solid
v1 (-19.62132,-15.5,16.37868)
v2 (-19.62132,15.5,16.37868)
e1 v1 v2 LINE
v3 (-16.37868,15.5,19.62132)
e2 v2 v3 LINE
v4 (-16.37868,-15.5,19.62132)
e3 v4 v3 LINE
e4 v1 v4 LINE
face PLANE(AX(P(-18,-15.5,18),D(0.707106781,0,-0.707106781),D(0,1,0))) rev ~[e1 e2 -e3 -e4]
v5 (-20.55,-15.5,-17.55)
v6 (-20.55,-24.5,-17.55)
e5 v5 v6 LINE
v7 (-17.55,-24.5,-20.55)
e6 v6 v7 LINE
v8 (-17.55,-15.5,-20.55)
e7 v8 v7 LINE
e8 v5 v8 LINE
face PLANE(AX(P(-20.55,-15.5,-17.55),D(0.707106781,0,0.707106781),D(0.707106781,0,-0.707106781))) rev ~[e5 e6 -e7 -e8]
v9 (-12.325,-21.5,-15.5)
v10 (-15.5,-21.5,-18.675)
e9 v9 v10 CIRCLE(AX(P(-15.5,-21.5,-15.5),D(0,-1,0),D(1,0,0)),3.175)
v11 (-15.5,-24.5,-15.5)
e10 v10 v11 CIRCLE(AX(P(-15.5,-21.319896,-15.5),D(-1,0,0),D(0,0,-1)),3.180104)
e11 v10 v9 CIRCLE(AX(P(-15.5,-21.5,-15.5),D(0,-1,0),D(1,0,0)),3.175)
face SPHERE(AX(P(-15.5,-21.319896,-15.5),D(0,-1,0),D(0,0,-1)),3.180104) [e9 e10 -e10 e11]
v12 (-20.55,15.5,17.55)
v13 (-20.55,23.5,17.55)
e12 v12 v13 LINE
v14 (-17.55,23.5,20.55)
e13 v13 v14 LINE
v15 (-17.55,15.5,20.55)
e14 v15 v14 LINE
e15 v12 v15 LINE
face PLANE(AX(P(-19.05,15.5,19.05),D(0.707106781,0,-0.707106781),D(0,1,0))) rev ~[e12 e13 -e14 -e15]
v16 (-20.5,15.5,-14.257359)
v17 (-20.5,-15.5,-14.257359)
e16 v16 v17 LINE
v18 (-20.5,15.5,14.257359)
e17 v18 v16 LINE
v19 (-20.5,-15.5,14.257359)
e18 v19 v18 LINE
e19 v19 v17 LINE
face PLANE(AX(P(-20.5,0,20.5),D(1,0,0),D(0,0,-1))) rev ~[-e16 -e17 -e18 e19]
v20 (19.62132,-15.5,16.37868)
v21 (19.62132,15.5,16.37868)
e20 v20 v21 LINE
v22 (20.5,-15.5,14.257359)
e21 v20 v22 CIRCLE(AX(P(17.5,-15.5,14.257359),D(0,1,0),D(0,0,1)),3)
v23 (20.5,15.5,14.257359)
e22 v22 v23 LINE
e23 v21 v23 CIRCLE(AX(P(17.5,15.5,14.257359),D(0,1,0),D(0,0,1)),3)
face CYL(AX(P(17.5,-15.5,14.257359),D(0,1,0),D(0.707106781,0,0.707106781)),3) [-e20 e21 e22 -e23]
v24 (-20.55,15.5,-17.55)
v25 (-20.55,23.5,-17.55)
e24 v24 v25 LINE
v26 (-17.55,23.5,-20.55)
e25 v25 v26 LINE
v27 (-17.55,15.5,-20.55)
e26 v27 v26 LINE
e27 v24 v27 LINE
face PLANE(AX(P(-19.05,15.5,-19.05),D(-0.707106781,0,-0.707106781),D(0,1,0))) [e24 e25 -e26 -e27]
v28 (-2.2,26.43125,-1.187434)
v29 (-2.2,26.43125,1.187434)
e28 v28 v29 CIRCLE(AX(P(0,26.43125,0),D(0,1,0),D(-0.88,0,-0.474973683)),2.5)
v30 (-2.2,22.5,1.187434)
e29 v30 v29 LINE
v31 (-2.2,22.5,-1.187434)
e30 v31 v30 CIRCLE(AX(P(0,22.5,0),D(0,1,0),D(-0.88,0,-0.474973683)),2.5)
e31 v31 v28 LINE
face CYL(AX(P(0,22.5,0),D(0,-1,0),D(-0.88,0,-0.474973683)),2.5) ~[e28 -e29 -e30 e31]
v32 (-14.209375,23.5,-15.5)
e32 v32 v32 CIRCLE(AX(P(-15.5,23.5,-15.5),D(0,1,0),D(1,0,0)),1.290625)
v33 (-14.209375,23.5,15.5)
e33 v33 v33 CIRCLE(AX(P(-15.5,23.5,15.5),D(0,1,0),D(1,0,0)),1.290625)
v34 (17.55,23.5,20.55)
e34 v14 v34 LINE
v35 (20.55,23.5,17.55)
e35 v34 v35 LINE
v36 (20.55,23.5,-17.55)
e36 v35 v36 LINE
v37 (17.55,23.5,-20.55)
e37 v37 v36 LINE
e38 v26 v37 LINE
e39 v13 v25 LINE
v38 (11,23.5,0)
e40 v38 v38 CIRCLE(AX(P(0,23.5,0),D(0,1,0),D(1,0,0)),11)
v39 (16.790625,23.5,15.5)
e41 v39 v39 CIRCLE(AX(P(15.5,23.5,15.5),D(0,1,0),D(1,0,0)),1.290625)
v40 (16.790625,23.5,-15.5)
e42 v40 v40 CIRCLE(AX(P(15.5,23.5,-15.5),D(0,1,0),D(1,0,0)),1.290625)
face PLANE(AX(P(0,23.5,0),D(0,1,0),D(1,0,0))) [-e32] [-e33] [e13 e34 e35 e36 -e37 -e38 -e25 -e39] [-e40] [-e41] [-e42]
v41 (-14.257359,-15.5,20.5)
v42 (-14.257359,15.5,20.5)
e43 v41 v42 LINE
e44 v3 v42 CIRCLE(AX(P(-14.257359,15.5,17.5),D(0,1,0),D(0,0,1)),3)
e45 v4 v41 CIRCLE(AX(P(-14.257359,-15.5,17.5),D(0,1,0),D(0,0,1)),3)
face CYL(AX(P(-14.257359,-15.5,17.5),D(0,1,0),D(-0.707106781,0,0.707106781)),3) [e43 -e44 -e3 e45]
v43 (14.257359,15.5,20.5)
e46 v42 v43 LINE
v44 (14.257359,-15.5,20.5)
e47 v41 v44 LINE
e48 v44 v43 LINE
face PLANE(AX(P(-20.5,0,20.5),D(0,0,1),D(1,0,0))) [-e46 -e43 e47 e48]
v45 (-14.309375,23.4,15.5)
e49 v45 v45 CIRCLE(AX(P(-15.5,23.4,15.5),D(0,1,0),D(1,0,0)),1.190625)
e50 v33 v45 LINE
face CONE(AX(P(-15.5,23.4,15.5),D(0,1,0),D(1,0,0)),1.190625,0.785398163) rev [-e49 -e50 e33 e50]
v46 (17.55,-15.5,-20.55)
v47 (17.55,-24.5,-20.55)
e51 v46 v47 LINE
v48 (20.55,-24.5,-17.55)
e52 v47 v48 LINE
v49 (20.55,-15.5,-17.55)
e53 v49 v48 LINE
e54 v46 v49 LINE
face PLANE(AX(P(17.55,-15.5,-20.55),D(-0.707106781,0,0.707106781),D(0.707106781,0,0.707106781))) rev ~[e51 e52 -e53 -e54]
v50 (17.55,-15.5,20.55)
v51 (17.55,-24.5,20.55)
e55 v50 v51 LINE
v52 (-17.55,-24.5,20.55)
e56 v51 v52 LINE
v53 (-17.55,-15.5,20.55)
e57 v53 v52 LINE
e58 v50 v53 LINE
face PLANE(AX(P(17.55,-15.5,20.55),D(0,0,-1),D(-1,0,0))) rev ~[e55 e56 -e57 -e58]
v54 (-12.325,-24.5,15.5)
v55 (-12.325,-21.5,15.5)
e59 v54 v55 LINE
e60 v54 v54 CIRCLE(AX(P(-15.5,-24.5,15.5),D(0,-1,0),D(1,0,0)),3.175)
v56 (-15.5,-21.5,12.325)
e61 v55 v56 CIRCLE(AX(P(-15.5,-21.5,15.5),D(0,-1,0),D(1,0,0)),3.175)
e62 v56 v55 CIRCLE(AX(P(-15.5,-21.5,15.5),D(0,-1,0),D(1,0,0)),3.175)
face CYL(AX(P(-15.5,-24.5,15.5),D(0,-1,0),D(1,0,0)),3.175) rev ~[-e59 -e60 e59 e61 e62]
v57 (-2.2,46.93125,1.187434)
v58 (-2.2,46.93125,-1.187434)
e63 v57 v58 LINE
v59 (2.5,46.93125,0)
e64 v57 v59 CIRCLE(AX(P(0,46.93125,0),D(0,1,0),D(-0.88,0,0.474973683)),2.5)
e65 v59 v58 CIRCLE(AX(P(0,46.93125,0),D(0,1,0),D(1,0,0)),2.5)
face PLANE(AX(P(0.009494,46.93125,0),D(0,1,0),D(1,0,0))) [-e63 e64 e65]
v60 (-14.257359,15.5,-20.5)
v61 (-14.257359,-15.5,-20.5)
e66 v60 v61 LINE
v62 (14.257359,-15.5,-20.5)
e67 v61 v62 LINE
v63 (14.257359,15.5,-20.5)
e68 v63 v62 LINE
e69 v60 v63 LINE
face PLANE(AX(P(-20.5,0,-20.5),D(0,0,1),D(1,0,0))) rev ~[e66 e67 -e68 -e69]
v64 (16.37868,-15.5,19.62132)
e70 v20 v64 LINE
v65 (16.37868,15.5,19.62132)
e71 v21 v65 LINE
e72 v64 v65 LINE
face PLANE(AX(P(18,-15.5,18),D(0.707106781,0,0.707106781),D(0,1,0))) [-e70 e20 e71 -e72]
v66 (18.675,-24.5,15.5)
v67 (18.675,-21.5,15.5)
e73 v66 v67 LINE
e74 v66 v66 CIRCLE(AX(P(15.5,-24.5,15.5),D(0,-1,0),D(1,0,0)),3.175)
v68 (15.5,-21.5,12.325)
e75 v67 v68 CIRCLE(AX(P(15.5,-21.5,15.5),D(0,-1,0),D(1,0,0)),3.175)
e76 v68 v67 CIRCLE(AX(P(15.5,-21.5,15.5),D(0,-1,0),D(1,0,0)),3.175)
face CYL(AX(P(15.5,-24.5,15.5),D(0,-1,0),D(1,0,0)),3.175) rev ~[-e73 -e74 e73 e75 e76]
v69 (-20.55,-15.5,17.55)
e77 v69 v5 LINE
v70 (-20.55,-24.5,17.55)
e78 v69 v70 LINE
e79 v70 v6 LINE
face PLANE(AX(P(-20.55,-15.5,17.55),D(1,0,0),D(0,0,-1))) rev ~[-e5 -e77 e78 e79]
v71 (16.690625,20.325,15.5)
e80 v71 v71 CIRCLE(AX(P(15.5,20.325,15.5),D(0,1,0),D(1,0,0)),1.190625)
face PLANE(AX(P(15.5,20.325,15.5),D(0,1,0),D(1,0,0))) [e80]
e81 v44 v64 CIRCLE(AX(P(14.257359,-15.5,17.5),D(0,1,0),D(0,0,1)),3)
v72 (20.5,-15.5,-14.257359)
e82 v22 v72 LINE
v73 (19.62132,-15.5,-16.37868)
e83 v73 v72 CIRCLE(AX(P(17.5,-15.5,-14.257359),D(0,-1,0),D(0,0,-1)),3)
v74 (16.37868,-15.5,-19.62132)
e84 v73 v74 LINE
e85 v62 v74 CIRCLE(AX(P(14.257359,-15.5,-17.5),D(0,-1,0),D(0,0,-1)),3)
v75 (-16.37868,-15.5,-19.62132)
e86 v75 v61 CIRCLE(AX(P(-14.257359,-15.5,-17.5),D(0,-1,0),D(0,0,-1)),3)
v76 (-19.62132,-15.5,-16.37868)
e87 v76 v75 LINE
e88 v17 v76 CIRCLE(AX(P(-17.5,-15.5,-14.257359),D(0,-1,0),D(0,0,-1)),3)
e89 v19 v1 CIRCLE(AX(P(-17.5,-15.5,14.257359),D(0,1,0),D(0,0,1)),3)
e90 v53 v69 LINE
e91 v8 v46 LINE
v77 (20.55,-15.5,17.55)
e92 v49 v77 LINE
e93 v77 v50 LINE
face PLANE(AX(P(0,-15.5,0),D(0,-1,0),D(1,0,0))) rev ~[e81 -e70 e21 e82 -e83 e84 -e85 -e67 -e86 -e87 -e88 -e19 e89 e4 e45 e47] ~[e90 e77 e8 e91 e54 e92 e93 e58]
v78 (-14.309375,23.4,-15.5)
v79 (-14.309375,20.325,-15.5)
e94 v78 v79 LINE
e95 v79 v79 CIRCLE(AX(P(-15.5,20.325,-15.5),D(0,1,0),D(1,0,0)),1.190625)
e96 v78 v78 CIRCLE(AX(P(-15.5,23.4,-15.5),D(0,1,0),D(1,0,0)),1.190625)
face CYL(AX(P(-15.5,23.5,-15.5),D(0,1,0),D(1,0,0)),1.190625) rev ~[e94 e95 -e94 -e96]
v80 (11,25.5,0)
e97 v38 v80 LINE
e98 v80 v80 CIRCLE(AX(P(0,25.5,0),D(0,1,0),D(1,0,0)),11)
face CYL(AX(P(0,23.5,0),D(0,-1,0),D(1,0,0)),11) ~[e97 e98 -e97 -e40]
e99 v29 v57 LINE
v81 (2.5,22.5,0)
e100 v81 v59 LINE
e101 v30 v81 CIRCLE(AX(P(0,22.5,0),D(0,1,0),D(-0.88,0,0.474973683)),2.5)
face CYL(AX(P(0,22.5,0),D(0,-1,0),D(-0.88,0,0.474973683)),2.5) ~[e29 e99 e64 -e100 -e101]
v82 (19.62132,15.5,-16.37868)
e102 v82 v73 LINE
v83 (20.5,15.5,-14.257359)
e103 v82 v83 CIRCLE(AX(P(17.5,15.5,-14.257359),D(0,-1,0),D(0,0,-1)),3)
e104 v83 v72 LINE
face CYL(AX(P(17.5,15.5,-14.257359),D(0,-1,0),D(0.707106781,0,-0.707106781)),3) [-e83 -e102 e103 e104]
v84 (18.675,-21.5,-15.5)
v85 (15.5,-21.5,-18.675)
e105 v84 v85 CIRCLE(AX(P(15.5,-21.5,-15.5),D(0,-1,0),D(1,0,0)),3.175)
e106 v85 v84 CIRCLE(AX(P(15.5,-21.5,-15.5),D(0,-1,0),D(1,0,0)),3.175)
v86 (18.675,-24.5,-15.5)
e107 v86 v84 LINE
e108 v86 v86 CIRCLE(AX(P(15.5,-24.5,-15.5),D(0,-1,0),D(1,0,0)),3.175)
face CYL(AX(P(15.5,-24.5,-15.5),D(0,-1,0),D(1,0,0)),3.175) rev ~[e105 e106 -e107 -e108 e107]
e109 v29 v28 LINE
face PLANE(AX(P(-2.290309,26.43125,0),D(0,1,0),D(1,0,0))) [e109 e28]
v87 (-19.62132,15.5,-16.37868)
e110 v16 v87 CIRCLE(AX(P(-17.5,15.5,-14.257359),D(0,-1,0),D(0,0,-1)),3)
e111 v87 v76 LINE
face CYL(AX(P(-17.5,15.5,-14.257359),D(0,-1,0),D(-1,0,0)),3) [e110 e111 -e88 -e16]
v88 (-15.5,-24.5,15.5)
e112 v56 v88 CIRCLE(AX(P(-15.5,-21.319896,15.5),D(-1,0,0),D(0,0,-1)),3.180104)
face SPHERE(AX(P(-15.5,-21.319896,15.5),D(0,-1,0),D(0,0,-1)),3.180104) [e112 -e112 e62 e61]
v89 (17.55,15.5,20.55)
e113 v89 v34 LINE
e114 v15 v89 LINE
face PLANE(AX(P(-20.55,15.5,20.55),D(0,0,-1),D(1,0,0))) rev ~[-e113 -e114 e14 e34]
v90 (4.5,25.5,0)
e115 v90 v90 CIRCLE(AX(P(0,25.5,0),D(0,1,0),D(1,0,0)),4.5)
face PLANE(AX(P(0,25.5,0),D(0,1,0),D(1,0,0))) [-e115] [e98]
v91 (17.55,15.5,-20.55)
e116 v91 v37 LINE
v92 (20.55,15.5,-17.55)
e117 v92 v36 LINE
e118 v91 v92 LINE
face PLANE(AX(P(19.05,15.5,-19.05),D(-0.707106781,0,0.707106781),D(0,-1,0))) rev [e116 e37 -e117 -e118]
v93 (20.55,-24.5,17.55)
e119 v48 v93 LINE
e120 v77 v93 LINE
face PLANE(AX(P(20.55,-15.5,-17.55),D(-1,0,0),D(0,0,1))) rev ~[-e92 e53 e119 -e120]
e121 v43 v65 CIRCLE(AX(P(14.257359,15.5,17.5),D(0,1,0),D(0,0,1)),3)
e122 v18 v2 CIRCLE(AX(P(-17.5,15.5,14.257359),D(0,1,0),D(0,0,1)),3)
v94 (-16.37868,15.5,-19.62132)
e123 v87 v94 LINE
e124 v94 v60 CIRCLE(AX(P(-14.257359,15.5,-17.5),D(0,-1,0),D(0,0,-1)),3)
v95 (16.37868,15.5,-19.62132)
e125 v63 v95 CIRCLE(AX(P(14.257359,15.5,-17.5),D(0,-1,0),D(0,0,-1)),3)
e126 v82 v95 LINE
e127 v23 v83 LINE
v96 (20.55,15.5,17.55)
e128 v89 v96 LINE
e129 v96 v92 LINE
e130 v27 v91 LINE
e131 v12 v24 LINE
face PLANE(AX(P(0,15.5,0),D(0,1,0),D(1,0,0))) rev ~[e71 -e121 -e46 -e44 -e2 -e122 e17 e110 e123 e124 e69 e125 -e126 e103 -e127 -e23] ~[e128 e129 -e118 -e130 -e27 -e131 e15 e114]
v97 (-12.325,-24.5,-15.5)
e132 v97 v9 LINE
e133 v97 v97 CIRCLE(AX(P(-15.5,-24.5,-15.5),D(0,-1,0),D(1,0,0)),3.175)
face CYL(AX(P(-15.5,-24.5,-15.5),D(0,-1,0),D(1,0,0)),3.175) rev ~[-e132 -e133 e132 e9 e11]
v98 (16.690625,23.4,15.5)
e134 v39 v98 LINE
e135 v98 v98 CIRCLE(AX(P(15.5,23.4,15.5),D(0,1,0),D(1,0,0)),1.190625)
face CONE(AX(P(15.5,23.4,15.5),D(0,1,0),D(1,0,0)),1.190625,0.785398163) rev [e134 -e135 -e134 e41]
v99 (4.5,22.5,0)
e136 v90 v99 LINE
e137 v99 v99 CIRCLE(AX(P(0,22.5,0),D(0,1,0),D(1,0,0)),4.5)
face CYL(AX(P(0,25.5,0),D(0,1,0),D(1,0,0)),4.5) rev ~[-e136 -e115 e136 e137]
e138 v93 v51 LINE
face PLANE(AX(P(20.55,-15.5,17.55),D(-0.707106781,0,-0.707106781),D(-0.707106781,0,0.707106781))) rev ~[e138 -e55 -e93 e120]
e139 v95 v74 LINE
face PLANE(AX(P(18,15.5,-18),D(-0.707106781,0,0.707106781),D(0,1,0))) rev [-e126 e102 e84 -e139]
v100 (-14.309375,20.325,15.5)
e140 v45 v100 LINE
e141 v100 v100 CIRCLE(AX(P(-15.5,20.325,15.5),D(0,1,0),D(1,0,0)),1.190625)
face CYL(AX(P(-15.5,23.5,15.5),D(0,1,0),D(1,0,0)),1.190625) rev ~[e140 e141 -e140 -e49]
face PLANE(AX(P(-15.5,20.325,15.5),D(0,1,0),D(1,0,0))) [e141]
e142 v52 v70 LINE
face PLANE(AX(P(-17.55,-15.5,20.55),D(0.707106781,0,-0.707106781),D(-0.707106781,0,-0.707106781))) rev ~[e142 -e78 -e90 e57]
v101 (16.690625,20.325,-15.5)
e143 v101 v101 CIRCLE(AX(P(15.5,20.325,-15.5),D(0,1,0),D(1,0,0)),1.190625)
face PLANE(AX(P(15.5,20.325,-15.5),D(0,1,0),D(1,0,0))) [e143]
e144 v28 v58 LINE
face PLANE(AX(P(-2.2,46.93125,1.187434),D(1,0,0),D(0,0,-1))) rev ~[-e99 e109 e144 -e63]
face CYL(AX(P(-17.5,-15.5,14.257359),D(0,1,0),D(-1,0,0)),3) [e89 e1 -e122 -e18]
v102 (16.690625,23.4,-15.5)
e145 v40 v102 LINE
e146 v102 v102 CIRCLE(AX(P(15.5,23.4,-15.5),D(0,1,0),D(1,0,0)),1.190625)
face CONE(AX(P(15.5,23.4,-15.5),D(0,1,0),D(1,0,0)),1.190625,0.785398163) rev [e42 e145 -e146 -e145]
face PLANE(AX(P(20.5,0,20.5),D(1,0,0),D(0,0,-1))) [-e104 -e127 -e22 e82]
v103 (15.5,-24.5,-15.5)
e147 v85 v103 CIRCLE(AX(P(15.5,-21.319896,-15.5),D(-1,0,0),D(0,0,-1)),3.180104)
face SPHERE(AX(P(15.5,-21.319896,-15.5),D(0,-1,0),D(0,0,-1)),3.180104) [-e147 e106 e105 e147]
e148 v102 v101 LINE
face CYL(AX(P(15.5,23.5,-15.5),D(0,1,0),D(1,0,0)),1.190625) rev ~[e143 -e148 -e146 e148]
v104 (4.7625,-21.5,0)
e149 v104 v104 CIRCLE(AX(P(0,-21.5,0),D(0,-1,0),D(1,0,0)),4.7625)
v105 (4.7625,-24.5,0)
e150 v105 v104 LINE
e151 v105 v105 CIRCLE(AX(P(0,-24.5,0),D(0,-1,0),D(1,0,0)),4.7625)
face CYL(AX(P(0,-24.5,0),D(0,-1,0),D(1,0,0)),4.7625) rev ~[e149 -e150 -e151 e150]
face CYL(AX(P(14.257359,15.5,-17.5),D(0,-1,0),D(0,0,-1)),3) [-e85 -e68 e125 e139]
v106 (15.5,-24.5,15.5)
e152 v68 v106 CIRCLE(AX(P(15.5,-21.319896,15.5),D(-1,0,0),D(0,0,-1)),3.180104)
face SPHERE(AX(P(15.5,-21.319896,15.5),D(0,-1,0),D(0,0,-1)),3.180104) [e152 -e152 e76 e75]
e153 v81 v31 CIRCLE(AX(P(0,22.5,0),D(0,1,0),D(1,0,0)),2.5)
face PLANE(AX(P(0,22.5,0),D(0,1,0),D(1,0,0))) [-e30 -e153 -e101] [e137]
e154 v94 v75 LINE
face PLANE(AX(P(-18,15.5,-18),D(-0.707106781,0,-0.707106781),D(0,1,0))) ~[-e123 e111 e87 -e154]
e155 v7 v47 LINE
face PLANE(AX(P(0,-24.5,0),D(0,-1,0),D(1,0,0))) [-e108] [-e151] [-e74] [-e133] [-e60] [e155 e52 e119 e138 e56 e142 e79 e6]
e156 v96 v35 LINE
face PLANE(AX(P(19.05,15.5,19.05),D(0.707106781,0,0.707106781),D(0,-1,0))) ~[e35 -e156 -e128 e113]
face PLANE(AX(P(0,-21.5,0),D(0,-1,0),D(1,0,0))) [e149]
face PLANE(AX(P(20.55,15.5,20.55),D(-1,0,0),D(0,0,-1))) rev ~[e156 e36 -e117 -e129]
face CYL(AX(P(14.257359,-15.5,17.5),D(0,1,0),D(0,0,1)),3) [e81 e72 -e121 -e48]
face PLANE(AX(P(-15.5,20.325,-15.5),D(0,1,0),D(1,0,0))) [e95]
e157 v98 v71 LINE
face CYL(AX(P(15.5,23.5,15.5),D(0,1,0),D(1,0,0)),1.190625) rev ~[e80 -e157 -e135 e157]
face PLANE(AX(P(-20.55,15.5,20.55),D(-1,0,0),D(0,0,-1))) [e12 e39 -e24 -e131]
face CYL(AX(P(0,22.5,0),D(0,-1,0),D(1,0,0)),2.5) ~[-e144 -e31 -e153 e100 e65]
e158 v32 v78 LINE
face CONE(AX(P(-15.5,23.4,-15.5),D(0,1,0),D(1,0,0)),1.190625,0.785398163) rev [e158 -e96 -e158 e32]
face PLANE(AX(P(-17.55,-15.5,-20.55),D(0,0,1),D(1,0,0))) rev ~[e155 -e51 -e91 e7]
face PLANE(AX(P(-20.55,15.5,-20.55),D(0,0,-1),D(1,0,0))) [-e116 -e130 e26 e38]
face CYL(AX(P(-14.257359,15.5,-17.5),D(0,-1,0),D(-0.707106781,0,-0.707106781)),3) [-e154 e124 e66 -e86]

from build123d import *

# Parameters (mm, degrees)
CROQUIS1_W              = 41
CROQUIS1_H              = 41
SALIENTE_EXTRUIR1_DEPTH = 15.5
CHAFL_N1_SIZE           = 5
REDONDEO1_R             = 3
CROQUIS2_W              = 41.1
CROQUIS2_H              = 41.1
SALIENTE_EXTRUIR2_DEPTH = 8
CHAFL_N2_SIZE           = 3
SALIENTE_EXTRUIR3_DEPTH = 9
CROQUIS4_R              = 11
SALIENTE_EXTRUIR4_DEPTH = 2
CROQUIS5_R              = 1.190625
CORTAR_EXTRUIR1_DEPTH   = 3.175
CHAFL_N3_SIZE           = 0.1
CROQUIS6_R              = 4.7625
CROQUIS6_R_2            = 3.175
CORTAR_EXTRUIR2_DEPTH   = 3
C_PULA1_FACE_RADIUS     = 3.175
C_PULA1_HEIGHT          = 3
C_PULA2_FACE_RADIUS     = 3.175
C_PULA2_HEIGHT          = 3
C_PULA3_FACE_RADIUS     = 3.175
C_PULA3_HEIGHT          = 3
C_PULA4_FACE_RADIUS     = 3.175
C_PULA4_HEIGHT          = 3
CROQUIS7_R              = 4.5
CORTAR_EXTRUIR3_DEPTH   = 3
SALIENTE_EXTRUIR5_DEPTH = 24.43125
CORTAR_EXTRUIR4_DEPTH   = 20.5


with BuildPart() as part:
    # Croquis1 → Saliente-Extruir1 (new body, symmetric)
    with BuildSketch(Plane(origin=(0, 0, 0), x_dir=(1, 0, 0), z_dir=(0, 1, 0))):
        Rectangle(CROQUIS1_W, CROQUIS1_H)
    extrude(amount=SALIENTE_EXTRUIR1_DEPTH, both=True)

    # Chaflán1
    chafl_n1_edges = [part.edges().sort_by_distance(p)[0] for p in [
        (20.5, 0, 20.5),
        (-20.5, 0, 20.5),
        (-20.5, 0, -20.5),
        (20.5, 0, -20.5),
    ]]
    chamfer(chafl_n1_edges, length=CHAFL_N1_SIZE)

    # Redondeo1
    redondeo1_edges = [part.edges().sort_by_distance(p)[0] for p in [
        (15.5, 0, 20.5),
        (-15.5, 0, 20.5),
        (-20.5, 0, -15.5),
        (-20.5, 0, 15.5),
        (15.5, 0, -20.5),
        (-15.5, 0, -20.5),
        (20.5, 0, 15.5),
        (20.5, 0, -15.5),
    ]]
    fillet(redondeo1_edges, radius=REDONDEO1_R)

    # Croquis2 → Saliente-Extruir2 (add)
    with BuildSketch(Plane(origin=(0, 15.5, 0), x_dir=(1, 0, 0), z_dir=(0, 1, 0))):
        Rectangle(CROQUIS2_W, CROQUIS2_H)
    extrude(amount=SALIENTE_EXTRUIR2_DEPTH)

    # Chaflán2
    chafl_n2_edges = [part.edges().sort_by_distance(p)[0] for p in [
        (20.55, 19.5, 20.55),
        (20.55, 19.5, -20.55),
        (-20.55, 19.5, -20.55),
        (-20.55, 19.5, 20.55),
    ]]
    chamfer(chafl_n2_edges, length=CHAFL_N2_SIZE)

    # Croquis3 → Saliente-Extruir3 (add)
    with BuildSketch(Plane.XZ.offset(15.5)):
        Polygon((17.55, 20.55), (-17.55, 20.55), (-20.55, 17.55), (-20.55, -17.55), (-17.55, -20.55), (17.55, -20.55), (20.55, -17.55), (20.55, 17.55), align=None)
    extrude(amount=SALIENTE_EXTRUIR3_DEPTH)

    # Croquis4 → Saliente-Extruir4 (add)
    with BuildSketch(Plane(origin=(0, 23.5, 0), x_dir=(1, 0, 0), z_dir=(0, 1, 0))):
        Circle(CROQUIS4_R)
    extrude(amount=SALIENTE_EXTRUIR4_DEPTH)

    # Croquis5 → Cortar-Extruir1 (cut)
    with BuildSketch(Plane(origin=(0, 23.5, 0), x_dir=(1, 0, 0), z_dir=(0, 1, 0))):
        with Locations((-15.5, 15.5)):
            Circle(CROQUIS5_R)
        with Locations((15.5, 15.5)):
            Circle(CROQUIS5_R)
        with Locations((15.5, -15.5)):
            Circle(CROQUIS5_R)
        with Locations((-15.5, -15.5)):
            Circle(CROQUIS5_R)
    extrude(amount=-CORTAR_EXTRUIR1_DEPTH, mode=Mode.SUBTRACT)

    # Chaflán3
    chafl_n3_edges = [part.edges().sort_by_distance(p)[0] for p in [
        (-16.690625, 23.5, -15.5),
        (14.309375, 23.5, -15.5),
        (14.309375, 23.5, 15.5),
        (-16.690625, 23.5, 15.5),
    ]]
    chamfer(chafl_n3_edges, length=CHAFL_N3_SIZE)

    # Croquis6 → Cortar-Extruir2 (cut)
    with BuildSketch(Plane.XZ.offset(24.5)):
        Circle(CROQUIS6_R)
        with Locations((-15.5, 15.5)):
            Circle(CROQUIS6_R_2)
        with Locations((15.5, 15.5)):
            Circle(CROQUIS6_R_2)
        with Locations((15.5, -15.5)):
            Circle(CROQUIS6_R_2)
        with Locations((-15.5, -15.5)):
            Circle(CROQUIS6_R_2)
    extrude(amount=-CORTAR_EXTRUIR2_DEPTH, mode=Mode.SUBTRACT)

    # Cúpula1: a dome of height H over a round flat face of radius A is a cap of a sphere of radius (A * A + H * H) / (2 * H)
    c_pula1_r = (C_PULA1_FACE_RADIUS * C_PULA1_FACE_RADIUS + C_PULA1_HEIGHT * C_PULA1_HEIGHT) / (2 * C_PULA1_HEIGHT)
    c_pula1_base = Plane((15.5, -21.5, 15.5), z_dir=(0, -1, 0))
    with Locations(c_pula1_base.offset(C_PULA1_HEIGHT - c_pula1_r)):
        c_pula1_ball = Sphere(c_pula1_r, mode=Mode.PRIVATE)
    add(split(c_pula1_ball, bisect_by=c_pula1_base, keep=Keep.TOP, mode=Mode.PRIVATE))

    # Cúpula2: a dome of height H over a round flat face of radius A is a cap of a sphere of radius (A * A + H * H) / (2 * H)
    c_pula2_r = (C_PULA2_FACE_RADIUS * C_PULA2_FACE_RADIUS + C_PULA2_HEIGHT * C_PULA2_HEIGHT) / (2 * C_PULA2_HEIGHT)
    c_pula2_base = Plane((-15.5, -21.5, 15.5), z_dir=(0, -1, 0))
    with Locations(c_pula2_base.offset(C_PULA2_HEIGHT - c_pula2_r)):
        c_pula2_ball = Sphere(c_pula2_r, mode=Mode.PRIVATE)
    add(split(c_pula2_ball, bisect_by=c_pula2_base, keep=Keep.TOP, mode=Mode.PRIVATE))

    # Cúpula3: a dome of height H over a round flat face of radius A is a cap of a sphere of radius (A * A + H * H) / (2 * H)
    c_pula3_r = (C_PULA3_FACE_RADIUS * C_PULA3_FACE_RADIUS + C_PULA3_HEIGHT * C_PULA3_HEIGHT) / (2 * C_PULA3_HEIGHT)
    c_pula3_base = Plane((15.5, -21.5, -15.5), z_dir=(0, -1, 0))
    with Locations(c_pula3_base.offset(C_PULA3_HEIGHT - c_pula3_r)):
        c_pula3_ball = Sphere(c_pula3_r, mode=Mode.PRIVATE)
    add(split(c_pula3_ball, bisect_by=c_pula3_base, keep=Keep.TOP, mode=Mode.PRIVATE))

    # Cúpula4: a dome of height H over a round flat face of radius A is a cap of a sphere of radius (A * A + H * H) / (2 * H)
    c_pula4_r = (C_PULA4_FACE_RADIUS * C_PULA4_FACE_RADIUS + C_PULA4_HEIGHT * C_PULA4_HEIGHT) / (2 * C_PULA4_HEIGHT)
    c_pula4_base = Plane((-15.5, -21.5, -15.5), z_dir=(0, -1, 0))
    with Locations(c_pula4_base.offset(C_PULA4_HEIGHT - c_pula4_r)):
        c_pula4_ball = Sphere(c_pula4_r, mode=Mode.PRIVATE)
    add(split(c_pula4_ball, bisect_by=c_pula4_base, keep=Keep.TOP, mode=Mode.PRIVATE))

    # Croquis7 → Cortar-Extruir3 (cut)
    with BuildSketch(Plane(origin=(0, 25.5, 0), x_dir=(1, 0, 0), z_dir=(0, 1, 0))):
        Circle(CROQUIS7_R)
    extrude(amount=-CORTAR_EXTRUIR3_DEPTH, mode=Mode.SUBTRACT)

    # Croquis8 → Saliente-Extruir5 (add)
    with BuildSketch(Plane(origin=(0, 22.5, 0), x_dir=(1, 0, 0), z_dir=(0, 1, 0))):
        with BuildLine():
            ThreePointArc((2.5, 0), (0.612372436, 2.423839929), (-2.2, 1.187434209))
            Line((-2.2, 1.187434209), (-2.2, -1.187434209))
            ThreePointArc((-2.2, -1.187434209), (0.612372436, -2.423839929), (2.5, 0))
        make_face()
        with BuildLine():
            Line((-2.2, -1.187434209), (-2.2, 1.187434209))
            ThreePointArc((-2.2, 1.187434209), (-2.5, 0), (-2.2, -1.187434209))
        make_face()
    extrude(amount=SALIENTE_EXTRUIR5_DEPTH)

    # Croquis9 → Cortar-Extruir4 (cut)
    with BuildSketch(Plane(origin=(0, 46.93125, 0), x_dir=(1, 0, 0), z_dir=(0, 1, 0))):
        with BuildLine():
            Line((-2.2, -1.187434209), (-2.2, 1.187434209))
            ThreePointArc((-2.2, 1.187434209), (-2.5, 0), (-2.2, -1.187434209))
        make_face()
    extrude(amount=-CORTAR_EXTRUIR4_DEPTH, mode=Mode.SUBTRACT)


solid = part.part
